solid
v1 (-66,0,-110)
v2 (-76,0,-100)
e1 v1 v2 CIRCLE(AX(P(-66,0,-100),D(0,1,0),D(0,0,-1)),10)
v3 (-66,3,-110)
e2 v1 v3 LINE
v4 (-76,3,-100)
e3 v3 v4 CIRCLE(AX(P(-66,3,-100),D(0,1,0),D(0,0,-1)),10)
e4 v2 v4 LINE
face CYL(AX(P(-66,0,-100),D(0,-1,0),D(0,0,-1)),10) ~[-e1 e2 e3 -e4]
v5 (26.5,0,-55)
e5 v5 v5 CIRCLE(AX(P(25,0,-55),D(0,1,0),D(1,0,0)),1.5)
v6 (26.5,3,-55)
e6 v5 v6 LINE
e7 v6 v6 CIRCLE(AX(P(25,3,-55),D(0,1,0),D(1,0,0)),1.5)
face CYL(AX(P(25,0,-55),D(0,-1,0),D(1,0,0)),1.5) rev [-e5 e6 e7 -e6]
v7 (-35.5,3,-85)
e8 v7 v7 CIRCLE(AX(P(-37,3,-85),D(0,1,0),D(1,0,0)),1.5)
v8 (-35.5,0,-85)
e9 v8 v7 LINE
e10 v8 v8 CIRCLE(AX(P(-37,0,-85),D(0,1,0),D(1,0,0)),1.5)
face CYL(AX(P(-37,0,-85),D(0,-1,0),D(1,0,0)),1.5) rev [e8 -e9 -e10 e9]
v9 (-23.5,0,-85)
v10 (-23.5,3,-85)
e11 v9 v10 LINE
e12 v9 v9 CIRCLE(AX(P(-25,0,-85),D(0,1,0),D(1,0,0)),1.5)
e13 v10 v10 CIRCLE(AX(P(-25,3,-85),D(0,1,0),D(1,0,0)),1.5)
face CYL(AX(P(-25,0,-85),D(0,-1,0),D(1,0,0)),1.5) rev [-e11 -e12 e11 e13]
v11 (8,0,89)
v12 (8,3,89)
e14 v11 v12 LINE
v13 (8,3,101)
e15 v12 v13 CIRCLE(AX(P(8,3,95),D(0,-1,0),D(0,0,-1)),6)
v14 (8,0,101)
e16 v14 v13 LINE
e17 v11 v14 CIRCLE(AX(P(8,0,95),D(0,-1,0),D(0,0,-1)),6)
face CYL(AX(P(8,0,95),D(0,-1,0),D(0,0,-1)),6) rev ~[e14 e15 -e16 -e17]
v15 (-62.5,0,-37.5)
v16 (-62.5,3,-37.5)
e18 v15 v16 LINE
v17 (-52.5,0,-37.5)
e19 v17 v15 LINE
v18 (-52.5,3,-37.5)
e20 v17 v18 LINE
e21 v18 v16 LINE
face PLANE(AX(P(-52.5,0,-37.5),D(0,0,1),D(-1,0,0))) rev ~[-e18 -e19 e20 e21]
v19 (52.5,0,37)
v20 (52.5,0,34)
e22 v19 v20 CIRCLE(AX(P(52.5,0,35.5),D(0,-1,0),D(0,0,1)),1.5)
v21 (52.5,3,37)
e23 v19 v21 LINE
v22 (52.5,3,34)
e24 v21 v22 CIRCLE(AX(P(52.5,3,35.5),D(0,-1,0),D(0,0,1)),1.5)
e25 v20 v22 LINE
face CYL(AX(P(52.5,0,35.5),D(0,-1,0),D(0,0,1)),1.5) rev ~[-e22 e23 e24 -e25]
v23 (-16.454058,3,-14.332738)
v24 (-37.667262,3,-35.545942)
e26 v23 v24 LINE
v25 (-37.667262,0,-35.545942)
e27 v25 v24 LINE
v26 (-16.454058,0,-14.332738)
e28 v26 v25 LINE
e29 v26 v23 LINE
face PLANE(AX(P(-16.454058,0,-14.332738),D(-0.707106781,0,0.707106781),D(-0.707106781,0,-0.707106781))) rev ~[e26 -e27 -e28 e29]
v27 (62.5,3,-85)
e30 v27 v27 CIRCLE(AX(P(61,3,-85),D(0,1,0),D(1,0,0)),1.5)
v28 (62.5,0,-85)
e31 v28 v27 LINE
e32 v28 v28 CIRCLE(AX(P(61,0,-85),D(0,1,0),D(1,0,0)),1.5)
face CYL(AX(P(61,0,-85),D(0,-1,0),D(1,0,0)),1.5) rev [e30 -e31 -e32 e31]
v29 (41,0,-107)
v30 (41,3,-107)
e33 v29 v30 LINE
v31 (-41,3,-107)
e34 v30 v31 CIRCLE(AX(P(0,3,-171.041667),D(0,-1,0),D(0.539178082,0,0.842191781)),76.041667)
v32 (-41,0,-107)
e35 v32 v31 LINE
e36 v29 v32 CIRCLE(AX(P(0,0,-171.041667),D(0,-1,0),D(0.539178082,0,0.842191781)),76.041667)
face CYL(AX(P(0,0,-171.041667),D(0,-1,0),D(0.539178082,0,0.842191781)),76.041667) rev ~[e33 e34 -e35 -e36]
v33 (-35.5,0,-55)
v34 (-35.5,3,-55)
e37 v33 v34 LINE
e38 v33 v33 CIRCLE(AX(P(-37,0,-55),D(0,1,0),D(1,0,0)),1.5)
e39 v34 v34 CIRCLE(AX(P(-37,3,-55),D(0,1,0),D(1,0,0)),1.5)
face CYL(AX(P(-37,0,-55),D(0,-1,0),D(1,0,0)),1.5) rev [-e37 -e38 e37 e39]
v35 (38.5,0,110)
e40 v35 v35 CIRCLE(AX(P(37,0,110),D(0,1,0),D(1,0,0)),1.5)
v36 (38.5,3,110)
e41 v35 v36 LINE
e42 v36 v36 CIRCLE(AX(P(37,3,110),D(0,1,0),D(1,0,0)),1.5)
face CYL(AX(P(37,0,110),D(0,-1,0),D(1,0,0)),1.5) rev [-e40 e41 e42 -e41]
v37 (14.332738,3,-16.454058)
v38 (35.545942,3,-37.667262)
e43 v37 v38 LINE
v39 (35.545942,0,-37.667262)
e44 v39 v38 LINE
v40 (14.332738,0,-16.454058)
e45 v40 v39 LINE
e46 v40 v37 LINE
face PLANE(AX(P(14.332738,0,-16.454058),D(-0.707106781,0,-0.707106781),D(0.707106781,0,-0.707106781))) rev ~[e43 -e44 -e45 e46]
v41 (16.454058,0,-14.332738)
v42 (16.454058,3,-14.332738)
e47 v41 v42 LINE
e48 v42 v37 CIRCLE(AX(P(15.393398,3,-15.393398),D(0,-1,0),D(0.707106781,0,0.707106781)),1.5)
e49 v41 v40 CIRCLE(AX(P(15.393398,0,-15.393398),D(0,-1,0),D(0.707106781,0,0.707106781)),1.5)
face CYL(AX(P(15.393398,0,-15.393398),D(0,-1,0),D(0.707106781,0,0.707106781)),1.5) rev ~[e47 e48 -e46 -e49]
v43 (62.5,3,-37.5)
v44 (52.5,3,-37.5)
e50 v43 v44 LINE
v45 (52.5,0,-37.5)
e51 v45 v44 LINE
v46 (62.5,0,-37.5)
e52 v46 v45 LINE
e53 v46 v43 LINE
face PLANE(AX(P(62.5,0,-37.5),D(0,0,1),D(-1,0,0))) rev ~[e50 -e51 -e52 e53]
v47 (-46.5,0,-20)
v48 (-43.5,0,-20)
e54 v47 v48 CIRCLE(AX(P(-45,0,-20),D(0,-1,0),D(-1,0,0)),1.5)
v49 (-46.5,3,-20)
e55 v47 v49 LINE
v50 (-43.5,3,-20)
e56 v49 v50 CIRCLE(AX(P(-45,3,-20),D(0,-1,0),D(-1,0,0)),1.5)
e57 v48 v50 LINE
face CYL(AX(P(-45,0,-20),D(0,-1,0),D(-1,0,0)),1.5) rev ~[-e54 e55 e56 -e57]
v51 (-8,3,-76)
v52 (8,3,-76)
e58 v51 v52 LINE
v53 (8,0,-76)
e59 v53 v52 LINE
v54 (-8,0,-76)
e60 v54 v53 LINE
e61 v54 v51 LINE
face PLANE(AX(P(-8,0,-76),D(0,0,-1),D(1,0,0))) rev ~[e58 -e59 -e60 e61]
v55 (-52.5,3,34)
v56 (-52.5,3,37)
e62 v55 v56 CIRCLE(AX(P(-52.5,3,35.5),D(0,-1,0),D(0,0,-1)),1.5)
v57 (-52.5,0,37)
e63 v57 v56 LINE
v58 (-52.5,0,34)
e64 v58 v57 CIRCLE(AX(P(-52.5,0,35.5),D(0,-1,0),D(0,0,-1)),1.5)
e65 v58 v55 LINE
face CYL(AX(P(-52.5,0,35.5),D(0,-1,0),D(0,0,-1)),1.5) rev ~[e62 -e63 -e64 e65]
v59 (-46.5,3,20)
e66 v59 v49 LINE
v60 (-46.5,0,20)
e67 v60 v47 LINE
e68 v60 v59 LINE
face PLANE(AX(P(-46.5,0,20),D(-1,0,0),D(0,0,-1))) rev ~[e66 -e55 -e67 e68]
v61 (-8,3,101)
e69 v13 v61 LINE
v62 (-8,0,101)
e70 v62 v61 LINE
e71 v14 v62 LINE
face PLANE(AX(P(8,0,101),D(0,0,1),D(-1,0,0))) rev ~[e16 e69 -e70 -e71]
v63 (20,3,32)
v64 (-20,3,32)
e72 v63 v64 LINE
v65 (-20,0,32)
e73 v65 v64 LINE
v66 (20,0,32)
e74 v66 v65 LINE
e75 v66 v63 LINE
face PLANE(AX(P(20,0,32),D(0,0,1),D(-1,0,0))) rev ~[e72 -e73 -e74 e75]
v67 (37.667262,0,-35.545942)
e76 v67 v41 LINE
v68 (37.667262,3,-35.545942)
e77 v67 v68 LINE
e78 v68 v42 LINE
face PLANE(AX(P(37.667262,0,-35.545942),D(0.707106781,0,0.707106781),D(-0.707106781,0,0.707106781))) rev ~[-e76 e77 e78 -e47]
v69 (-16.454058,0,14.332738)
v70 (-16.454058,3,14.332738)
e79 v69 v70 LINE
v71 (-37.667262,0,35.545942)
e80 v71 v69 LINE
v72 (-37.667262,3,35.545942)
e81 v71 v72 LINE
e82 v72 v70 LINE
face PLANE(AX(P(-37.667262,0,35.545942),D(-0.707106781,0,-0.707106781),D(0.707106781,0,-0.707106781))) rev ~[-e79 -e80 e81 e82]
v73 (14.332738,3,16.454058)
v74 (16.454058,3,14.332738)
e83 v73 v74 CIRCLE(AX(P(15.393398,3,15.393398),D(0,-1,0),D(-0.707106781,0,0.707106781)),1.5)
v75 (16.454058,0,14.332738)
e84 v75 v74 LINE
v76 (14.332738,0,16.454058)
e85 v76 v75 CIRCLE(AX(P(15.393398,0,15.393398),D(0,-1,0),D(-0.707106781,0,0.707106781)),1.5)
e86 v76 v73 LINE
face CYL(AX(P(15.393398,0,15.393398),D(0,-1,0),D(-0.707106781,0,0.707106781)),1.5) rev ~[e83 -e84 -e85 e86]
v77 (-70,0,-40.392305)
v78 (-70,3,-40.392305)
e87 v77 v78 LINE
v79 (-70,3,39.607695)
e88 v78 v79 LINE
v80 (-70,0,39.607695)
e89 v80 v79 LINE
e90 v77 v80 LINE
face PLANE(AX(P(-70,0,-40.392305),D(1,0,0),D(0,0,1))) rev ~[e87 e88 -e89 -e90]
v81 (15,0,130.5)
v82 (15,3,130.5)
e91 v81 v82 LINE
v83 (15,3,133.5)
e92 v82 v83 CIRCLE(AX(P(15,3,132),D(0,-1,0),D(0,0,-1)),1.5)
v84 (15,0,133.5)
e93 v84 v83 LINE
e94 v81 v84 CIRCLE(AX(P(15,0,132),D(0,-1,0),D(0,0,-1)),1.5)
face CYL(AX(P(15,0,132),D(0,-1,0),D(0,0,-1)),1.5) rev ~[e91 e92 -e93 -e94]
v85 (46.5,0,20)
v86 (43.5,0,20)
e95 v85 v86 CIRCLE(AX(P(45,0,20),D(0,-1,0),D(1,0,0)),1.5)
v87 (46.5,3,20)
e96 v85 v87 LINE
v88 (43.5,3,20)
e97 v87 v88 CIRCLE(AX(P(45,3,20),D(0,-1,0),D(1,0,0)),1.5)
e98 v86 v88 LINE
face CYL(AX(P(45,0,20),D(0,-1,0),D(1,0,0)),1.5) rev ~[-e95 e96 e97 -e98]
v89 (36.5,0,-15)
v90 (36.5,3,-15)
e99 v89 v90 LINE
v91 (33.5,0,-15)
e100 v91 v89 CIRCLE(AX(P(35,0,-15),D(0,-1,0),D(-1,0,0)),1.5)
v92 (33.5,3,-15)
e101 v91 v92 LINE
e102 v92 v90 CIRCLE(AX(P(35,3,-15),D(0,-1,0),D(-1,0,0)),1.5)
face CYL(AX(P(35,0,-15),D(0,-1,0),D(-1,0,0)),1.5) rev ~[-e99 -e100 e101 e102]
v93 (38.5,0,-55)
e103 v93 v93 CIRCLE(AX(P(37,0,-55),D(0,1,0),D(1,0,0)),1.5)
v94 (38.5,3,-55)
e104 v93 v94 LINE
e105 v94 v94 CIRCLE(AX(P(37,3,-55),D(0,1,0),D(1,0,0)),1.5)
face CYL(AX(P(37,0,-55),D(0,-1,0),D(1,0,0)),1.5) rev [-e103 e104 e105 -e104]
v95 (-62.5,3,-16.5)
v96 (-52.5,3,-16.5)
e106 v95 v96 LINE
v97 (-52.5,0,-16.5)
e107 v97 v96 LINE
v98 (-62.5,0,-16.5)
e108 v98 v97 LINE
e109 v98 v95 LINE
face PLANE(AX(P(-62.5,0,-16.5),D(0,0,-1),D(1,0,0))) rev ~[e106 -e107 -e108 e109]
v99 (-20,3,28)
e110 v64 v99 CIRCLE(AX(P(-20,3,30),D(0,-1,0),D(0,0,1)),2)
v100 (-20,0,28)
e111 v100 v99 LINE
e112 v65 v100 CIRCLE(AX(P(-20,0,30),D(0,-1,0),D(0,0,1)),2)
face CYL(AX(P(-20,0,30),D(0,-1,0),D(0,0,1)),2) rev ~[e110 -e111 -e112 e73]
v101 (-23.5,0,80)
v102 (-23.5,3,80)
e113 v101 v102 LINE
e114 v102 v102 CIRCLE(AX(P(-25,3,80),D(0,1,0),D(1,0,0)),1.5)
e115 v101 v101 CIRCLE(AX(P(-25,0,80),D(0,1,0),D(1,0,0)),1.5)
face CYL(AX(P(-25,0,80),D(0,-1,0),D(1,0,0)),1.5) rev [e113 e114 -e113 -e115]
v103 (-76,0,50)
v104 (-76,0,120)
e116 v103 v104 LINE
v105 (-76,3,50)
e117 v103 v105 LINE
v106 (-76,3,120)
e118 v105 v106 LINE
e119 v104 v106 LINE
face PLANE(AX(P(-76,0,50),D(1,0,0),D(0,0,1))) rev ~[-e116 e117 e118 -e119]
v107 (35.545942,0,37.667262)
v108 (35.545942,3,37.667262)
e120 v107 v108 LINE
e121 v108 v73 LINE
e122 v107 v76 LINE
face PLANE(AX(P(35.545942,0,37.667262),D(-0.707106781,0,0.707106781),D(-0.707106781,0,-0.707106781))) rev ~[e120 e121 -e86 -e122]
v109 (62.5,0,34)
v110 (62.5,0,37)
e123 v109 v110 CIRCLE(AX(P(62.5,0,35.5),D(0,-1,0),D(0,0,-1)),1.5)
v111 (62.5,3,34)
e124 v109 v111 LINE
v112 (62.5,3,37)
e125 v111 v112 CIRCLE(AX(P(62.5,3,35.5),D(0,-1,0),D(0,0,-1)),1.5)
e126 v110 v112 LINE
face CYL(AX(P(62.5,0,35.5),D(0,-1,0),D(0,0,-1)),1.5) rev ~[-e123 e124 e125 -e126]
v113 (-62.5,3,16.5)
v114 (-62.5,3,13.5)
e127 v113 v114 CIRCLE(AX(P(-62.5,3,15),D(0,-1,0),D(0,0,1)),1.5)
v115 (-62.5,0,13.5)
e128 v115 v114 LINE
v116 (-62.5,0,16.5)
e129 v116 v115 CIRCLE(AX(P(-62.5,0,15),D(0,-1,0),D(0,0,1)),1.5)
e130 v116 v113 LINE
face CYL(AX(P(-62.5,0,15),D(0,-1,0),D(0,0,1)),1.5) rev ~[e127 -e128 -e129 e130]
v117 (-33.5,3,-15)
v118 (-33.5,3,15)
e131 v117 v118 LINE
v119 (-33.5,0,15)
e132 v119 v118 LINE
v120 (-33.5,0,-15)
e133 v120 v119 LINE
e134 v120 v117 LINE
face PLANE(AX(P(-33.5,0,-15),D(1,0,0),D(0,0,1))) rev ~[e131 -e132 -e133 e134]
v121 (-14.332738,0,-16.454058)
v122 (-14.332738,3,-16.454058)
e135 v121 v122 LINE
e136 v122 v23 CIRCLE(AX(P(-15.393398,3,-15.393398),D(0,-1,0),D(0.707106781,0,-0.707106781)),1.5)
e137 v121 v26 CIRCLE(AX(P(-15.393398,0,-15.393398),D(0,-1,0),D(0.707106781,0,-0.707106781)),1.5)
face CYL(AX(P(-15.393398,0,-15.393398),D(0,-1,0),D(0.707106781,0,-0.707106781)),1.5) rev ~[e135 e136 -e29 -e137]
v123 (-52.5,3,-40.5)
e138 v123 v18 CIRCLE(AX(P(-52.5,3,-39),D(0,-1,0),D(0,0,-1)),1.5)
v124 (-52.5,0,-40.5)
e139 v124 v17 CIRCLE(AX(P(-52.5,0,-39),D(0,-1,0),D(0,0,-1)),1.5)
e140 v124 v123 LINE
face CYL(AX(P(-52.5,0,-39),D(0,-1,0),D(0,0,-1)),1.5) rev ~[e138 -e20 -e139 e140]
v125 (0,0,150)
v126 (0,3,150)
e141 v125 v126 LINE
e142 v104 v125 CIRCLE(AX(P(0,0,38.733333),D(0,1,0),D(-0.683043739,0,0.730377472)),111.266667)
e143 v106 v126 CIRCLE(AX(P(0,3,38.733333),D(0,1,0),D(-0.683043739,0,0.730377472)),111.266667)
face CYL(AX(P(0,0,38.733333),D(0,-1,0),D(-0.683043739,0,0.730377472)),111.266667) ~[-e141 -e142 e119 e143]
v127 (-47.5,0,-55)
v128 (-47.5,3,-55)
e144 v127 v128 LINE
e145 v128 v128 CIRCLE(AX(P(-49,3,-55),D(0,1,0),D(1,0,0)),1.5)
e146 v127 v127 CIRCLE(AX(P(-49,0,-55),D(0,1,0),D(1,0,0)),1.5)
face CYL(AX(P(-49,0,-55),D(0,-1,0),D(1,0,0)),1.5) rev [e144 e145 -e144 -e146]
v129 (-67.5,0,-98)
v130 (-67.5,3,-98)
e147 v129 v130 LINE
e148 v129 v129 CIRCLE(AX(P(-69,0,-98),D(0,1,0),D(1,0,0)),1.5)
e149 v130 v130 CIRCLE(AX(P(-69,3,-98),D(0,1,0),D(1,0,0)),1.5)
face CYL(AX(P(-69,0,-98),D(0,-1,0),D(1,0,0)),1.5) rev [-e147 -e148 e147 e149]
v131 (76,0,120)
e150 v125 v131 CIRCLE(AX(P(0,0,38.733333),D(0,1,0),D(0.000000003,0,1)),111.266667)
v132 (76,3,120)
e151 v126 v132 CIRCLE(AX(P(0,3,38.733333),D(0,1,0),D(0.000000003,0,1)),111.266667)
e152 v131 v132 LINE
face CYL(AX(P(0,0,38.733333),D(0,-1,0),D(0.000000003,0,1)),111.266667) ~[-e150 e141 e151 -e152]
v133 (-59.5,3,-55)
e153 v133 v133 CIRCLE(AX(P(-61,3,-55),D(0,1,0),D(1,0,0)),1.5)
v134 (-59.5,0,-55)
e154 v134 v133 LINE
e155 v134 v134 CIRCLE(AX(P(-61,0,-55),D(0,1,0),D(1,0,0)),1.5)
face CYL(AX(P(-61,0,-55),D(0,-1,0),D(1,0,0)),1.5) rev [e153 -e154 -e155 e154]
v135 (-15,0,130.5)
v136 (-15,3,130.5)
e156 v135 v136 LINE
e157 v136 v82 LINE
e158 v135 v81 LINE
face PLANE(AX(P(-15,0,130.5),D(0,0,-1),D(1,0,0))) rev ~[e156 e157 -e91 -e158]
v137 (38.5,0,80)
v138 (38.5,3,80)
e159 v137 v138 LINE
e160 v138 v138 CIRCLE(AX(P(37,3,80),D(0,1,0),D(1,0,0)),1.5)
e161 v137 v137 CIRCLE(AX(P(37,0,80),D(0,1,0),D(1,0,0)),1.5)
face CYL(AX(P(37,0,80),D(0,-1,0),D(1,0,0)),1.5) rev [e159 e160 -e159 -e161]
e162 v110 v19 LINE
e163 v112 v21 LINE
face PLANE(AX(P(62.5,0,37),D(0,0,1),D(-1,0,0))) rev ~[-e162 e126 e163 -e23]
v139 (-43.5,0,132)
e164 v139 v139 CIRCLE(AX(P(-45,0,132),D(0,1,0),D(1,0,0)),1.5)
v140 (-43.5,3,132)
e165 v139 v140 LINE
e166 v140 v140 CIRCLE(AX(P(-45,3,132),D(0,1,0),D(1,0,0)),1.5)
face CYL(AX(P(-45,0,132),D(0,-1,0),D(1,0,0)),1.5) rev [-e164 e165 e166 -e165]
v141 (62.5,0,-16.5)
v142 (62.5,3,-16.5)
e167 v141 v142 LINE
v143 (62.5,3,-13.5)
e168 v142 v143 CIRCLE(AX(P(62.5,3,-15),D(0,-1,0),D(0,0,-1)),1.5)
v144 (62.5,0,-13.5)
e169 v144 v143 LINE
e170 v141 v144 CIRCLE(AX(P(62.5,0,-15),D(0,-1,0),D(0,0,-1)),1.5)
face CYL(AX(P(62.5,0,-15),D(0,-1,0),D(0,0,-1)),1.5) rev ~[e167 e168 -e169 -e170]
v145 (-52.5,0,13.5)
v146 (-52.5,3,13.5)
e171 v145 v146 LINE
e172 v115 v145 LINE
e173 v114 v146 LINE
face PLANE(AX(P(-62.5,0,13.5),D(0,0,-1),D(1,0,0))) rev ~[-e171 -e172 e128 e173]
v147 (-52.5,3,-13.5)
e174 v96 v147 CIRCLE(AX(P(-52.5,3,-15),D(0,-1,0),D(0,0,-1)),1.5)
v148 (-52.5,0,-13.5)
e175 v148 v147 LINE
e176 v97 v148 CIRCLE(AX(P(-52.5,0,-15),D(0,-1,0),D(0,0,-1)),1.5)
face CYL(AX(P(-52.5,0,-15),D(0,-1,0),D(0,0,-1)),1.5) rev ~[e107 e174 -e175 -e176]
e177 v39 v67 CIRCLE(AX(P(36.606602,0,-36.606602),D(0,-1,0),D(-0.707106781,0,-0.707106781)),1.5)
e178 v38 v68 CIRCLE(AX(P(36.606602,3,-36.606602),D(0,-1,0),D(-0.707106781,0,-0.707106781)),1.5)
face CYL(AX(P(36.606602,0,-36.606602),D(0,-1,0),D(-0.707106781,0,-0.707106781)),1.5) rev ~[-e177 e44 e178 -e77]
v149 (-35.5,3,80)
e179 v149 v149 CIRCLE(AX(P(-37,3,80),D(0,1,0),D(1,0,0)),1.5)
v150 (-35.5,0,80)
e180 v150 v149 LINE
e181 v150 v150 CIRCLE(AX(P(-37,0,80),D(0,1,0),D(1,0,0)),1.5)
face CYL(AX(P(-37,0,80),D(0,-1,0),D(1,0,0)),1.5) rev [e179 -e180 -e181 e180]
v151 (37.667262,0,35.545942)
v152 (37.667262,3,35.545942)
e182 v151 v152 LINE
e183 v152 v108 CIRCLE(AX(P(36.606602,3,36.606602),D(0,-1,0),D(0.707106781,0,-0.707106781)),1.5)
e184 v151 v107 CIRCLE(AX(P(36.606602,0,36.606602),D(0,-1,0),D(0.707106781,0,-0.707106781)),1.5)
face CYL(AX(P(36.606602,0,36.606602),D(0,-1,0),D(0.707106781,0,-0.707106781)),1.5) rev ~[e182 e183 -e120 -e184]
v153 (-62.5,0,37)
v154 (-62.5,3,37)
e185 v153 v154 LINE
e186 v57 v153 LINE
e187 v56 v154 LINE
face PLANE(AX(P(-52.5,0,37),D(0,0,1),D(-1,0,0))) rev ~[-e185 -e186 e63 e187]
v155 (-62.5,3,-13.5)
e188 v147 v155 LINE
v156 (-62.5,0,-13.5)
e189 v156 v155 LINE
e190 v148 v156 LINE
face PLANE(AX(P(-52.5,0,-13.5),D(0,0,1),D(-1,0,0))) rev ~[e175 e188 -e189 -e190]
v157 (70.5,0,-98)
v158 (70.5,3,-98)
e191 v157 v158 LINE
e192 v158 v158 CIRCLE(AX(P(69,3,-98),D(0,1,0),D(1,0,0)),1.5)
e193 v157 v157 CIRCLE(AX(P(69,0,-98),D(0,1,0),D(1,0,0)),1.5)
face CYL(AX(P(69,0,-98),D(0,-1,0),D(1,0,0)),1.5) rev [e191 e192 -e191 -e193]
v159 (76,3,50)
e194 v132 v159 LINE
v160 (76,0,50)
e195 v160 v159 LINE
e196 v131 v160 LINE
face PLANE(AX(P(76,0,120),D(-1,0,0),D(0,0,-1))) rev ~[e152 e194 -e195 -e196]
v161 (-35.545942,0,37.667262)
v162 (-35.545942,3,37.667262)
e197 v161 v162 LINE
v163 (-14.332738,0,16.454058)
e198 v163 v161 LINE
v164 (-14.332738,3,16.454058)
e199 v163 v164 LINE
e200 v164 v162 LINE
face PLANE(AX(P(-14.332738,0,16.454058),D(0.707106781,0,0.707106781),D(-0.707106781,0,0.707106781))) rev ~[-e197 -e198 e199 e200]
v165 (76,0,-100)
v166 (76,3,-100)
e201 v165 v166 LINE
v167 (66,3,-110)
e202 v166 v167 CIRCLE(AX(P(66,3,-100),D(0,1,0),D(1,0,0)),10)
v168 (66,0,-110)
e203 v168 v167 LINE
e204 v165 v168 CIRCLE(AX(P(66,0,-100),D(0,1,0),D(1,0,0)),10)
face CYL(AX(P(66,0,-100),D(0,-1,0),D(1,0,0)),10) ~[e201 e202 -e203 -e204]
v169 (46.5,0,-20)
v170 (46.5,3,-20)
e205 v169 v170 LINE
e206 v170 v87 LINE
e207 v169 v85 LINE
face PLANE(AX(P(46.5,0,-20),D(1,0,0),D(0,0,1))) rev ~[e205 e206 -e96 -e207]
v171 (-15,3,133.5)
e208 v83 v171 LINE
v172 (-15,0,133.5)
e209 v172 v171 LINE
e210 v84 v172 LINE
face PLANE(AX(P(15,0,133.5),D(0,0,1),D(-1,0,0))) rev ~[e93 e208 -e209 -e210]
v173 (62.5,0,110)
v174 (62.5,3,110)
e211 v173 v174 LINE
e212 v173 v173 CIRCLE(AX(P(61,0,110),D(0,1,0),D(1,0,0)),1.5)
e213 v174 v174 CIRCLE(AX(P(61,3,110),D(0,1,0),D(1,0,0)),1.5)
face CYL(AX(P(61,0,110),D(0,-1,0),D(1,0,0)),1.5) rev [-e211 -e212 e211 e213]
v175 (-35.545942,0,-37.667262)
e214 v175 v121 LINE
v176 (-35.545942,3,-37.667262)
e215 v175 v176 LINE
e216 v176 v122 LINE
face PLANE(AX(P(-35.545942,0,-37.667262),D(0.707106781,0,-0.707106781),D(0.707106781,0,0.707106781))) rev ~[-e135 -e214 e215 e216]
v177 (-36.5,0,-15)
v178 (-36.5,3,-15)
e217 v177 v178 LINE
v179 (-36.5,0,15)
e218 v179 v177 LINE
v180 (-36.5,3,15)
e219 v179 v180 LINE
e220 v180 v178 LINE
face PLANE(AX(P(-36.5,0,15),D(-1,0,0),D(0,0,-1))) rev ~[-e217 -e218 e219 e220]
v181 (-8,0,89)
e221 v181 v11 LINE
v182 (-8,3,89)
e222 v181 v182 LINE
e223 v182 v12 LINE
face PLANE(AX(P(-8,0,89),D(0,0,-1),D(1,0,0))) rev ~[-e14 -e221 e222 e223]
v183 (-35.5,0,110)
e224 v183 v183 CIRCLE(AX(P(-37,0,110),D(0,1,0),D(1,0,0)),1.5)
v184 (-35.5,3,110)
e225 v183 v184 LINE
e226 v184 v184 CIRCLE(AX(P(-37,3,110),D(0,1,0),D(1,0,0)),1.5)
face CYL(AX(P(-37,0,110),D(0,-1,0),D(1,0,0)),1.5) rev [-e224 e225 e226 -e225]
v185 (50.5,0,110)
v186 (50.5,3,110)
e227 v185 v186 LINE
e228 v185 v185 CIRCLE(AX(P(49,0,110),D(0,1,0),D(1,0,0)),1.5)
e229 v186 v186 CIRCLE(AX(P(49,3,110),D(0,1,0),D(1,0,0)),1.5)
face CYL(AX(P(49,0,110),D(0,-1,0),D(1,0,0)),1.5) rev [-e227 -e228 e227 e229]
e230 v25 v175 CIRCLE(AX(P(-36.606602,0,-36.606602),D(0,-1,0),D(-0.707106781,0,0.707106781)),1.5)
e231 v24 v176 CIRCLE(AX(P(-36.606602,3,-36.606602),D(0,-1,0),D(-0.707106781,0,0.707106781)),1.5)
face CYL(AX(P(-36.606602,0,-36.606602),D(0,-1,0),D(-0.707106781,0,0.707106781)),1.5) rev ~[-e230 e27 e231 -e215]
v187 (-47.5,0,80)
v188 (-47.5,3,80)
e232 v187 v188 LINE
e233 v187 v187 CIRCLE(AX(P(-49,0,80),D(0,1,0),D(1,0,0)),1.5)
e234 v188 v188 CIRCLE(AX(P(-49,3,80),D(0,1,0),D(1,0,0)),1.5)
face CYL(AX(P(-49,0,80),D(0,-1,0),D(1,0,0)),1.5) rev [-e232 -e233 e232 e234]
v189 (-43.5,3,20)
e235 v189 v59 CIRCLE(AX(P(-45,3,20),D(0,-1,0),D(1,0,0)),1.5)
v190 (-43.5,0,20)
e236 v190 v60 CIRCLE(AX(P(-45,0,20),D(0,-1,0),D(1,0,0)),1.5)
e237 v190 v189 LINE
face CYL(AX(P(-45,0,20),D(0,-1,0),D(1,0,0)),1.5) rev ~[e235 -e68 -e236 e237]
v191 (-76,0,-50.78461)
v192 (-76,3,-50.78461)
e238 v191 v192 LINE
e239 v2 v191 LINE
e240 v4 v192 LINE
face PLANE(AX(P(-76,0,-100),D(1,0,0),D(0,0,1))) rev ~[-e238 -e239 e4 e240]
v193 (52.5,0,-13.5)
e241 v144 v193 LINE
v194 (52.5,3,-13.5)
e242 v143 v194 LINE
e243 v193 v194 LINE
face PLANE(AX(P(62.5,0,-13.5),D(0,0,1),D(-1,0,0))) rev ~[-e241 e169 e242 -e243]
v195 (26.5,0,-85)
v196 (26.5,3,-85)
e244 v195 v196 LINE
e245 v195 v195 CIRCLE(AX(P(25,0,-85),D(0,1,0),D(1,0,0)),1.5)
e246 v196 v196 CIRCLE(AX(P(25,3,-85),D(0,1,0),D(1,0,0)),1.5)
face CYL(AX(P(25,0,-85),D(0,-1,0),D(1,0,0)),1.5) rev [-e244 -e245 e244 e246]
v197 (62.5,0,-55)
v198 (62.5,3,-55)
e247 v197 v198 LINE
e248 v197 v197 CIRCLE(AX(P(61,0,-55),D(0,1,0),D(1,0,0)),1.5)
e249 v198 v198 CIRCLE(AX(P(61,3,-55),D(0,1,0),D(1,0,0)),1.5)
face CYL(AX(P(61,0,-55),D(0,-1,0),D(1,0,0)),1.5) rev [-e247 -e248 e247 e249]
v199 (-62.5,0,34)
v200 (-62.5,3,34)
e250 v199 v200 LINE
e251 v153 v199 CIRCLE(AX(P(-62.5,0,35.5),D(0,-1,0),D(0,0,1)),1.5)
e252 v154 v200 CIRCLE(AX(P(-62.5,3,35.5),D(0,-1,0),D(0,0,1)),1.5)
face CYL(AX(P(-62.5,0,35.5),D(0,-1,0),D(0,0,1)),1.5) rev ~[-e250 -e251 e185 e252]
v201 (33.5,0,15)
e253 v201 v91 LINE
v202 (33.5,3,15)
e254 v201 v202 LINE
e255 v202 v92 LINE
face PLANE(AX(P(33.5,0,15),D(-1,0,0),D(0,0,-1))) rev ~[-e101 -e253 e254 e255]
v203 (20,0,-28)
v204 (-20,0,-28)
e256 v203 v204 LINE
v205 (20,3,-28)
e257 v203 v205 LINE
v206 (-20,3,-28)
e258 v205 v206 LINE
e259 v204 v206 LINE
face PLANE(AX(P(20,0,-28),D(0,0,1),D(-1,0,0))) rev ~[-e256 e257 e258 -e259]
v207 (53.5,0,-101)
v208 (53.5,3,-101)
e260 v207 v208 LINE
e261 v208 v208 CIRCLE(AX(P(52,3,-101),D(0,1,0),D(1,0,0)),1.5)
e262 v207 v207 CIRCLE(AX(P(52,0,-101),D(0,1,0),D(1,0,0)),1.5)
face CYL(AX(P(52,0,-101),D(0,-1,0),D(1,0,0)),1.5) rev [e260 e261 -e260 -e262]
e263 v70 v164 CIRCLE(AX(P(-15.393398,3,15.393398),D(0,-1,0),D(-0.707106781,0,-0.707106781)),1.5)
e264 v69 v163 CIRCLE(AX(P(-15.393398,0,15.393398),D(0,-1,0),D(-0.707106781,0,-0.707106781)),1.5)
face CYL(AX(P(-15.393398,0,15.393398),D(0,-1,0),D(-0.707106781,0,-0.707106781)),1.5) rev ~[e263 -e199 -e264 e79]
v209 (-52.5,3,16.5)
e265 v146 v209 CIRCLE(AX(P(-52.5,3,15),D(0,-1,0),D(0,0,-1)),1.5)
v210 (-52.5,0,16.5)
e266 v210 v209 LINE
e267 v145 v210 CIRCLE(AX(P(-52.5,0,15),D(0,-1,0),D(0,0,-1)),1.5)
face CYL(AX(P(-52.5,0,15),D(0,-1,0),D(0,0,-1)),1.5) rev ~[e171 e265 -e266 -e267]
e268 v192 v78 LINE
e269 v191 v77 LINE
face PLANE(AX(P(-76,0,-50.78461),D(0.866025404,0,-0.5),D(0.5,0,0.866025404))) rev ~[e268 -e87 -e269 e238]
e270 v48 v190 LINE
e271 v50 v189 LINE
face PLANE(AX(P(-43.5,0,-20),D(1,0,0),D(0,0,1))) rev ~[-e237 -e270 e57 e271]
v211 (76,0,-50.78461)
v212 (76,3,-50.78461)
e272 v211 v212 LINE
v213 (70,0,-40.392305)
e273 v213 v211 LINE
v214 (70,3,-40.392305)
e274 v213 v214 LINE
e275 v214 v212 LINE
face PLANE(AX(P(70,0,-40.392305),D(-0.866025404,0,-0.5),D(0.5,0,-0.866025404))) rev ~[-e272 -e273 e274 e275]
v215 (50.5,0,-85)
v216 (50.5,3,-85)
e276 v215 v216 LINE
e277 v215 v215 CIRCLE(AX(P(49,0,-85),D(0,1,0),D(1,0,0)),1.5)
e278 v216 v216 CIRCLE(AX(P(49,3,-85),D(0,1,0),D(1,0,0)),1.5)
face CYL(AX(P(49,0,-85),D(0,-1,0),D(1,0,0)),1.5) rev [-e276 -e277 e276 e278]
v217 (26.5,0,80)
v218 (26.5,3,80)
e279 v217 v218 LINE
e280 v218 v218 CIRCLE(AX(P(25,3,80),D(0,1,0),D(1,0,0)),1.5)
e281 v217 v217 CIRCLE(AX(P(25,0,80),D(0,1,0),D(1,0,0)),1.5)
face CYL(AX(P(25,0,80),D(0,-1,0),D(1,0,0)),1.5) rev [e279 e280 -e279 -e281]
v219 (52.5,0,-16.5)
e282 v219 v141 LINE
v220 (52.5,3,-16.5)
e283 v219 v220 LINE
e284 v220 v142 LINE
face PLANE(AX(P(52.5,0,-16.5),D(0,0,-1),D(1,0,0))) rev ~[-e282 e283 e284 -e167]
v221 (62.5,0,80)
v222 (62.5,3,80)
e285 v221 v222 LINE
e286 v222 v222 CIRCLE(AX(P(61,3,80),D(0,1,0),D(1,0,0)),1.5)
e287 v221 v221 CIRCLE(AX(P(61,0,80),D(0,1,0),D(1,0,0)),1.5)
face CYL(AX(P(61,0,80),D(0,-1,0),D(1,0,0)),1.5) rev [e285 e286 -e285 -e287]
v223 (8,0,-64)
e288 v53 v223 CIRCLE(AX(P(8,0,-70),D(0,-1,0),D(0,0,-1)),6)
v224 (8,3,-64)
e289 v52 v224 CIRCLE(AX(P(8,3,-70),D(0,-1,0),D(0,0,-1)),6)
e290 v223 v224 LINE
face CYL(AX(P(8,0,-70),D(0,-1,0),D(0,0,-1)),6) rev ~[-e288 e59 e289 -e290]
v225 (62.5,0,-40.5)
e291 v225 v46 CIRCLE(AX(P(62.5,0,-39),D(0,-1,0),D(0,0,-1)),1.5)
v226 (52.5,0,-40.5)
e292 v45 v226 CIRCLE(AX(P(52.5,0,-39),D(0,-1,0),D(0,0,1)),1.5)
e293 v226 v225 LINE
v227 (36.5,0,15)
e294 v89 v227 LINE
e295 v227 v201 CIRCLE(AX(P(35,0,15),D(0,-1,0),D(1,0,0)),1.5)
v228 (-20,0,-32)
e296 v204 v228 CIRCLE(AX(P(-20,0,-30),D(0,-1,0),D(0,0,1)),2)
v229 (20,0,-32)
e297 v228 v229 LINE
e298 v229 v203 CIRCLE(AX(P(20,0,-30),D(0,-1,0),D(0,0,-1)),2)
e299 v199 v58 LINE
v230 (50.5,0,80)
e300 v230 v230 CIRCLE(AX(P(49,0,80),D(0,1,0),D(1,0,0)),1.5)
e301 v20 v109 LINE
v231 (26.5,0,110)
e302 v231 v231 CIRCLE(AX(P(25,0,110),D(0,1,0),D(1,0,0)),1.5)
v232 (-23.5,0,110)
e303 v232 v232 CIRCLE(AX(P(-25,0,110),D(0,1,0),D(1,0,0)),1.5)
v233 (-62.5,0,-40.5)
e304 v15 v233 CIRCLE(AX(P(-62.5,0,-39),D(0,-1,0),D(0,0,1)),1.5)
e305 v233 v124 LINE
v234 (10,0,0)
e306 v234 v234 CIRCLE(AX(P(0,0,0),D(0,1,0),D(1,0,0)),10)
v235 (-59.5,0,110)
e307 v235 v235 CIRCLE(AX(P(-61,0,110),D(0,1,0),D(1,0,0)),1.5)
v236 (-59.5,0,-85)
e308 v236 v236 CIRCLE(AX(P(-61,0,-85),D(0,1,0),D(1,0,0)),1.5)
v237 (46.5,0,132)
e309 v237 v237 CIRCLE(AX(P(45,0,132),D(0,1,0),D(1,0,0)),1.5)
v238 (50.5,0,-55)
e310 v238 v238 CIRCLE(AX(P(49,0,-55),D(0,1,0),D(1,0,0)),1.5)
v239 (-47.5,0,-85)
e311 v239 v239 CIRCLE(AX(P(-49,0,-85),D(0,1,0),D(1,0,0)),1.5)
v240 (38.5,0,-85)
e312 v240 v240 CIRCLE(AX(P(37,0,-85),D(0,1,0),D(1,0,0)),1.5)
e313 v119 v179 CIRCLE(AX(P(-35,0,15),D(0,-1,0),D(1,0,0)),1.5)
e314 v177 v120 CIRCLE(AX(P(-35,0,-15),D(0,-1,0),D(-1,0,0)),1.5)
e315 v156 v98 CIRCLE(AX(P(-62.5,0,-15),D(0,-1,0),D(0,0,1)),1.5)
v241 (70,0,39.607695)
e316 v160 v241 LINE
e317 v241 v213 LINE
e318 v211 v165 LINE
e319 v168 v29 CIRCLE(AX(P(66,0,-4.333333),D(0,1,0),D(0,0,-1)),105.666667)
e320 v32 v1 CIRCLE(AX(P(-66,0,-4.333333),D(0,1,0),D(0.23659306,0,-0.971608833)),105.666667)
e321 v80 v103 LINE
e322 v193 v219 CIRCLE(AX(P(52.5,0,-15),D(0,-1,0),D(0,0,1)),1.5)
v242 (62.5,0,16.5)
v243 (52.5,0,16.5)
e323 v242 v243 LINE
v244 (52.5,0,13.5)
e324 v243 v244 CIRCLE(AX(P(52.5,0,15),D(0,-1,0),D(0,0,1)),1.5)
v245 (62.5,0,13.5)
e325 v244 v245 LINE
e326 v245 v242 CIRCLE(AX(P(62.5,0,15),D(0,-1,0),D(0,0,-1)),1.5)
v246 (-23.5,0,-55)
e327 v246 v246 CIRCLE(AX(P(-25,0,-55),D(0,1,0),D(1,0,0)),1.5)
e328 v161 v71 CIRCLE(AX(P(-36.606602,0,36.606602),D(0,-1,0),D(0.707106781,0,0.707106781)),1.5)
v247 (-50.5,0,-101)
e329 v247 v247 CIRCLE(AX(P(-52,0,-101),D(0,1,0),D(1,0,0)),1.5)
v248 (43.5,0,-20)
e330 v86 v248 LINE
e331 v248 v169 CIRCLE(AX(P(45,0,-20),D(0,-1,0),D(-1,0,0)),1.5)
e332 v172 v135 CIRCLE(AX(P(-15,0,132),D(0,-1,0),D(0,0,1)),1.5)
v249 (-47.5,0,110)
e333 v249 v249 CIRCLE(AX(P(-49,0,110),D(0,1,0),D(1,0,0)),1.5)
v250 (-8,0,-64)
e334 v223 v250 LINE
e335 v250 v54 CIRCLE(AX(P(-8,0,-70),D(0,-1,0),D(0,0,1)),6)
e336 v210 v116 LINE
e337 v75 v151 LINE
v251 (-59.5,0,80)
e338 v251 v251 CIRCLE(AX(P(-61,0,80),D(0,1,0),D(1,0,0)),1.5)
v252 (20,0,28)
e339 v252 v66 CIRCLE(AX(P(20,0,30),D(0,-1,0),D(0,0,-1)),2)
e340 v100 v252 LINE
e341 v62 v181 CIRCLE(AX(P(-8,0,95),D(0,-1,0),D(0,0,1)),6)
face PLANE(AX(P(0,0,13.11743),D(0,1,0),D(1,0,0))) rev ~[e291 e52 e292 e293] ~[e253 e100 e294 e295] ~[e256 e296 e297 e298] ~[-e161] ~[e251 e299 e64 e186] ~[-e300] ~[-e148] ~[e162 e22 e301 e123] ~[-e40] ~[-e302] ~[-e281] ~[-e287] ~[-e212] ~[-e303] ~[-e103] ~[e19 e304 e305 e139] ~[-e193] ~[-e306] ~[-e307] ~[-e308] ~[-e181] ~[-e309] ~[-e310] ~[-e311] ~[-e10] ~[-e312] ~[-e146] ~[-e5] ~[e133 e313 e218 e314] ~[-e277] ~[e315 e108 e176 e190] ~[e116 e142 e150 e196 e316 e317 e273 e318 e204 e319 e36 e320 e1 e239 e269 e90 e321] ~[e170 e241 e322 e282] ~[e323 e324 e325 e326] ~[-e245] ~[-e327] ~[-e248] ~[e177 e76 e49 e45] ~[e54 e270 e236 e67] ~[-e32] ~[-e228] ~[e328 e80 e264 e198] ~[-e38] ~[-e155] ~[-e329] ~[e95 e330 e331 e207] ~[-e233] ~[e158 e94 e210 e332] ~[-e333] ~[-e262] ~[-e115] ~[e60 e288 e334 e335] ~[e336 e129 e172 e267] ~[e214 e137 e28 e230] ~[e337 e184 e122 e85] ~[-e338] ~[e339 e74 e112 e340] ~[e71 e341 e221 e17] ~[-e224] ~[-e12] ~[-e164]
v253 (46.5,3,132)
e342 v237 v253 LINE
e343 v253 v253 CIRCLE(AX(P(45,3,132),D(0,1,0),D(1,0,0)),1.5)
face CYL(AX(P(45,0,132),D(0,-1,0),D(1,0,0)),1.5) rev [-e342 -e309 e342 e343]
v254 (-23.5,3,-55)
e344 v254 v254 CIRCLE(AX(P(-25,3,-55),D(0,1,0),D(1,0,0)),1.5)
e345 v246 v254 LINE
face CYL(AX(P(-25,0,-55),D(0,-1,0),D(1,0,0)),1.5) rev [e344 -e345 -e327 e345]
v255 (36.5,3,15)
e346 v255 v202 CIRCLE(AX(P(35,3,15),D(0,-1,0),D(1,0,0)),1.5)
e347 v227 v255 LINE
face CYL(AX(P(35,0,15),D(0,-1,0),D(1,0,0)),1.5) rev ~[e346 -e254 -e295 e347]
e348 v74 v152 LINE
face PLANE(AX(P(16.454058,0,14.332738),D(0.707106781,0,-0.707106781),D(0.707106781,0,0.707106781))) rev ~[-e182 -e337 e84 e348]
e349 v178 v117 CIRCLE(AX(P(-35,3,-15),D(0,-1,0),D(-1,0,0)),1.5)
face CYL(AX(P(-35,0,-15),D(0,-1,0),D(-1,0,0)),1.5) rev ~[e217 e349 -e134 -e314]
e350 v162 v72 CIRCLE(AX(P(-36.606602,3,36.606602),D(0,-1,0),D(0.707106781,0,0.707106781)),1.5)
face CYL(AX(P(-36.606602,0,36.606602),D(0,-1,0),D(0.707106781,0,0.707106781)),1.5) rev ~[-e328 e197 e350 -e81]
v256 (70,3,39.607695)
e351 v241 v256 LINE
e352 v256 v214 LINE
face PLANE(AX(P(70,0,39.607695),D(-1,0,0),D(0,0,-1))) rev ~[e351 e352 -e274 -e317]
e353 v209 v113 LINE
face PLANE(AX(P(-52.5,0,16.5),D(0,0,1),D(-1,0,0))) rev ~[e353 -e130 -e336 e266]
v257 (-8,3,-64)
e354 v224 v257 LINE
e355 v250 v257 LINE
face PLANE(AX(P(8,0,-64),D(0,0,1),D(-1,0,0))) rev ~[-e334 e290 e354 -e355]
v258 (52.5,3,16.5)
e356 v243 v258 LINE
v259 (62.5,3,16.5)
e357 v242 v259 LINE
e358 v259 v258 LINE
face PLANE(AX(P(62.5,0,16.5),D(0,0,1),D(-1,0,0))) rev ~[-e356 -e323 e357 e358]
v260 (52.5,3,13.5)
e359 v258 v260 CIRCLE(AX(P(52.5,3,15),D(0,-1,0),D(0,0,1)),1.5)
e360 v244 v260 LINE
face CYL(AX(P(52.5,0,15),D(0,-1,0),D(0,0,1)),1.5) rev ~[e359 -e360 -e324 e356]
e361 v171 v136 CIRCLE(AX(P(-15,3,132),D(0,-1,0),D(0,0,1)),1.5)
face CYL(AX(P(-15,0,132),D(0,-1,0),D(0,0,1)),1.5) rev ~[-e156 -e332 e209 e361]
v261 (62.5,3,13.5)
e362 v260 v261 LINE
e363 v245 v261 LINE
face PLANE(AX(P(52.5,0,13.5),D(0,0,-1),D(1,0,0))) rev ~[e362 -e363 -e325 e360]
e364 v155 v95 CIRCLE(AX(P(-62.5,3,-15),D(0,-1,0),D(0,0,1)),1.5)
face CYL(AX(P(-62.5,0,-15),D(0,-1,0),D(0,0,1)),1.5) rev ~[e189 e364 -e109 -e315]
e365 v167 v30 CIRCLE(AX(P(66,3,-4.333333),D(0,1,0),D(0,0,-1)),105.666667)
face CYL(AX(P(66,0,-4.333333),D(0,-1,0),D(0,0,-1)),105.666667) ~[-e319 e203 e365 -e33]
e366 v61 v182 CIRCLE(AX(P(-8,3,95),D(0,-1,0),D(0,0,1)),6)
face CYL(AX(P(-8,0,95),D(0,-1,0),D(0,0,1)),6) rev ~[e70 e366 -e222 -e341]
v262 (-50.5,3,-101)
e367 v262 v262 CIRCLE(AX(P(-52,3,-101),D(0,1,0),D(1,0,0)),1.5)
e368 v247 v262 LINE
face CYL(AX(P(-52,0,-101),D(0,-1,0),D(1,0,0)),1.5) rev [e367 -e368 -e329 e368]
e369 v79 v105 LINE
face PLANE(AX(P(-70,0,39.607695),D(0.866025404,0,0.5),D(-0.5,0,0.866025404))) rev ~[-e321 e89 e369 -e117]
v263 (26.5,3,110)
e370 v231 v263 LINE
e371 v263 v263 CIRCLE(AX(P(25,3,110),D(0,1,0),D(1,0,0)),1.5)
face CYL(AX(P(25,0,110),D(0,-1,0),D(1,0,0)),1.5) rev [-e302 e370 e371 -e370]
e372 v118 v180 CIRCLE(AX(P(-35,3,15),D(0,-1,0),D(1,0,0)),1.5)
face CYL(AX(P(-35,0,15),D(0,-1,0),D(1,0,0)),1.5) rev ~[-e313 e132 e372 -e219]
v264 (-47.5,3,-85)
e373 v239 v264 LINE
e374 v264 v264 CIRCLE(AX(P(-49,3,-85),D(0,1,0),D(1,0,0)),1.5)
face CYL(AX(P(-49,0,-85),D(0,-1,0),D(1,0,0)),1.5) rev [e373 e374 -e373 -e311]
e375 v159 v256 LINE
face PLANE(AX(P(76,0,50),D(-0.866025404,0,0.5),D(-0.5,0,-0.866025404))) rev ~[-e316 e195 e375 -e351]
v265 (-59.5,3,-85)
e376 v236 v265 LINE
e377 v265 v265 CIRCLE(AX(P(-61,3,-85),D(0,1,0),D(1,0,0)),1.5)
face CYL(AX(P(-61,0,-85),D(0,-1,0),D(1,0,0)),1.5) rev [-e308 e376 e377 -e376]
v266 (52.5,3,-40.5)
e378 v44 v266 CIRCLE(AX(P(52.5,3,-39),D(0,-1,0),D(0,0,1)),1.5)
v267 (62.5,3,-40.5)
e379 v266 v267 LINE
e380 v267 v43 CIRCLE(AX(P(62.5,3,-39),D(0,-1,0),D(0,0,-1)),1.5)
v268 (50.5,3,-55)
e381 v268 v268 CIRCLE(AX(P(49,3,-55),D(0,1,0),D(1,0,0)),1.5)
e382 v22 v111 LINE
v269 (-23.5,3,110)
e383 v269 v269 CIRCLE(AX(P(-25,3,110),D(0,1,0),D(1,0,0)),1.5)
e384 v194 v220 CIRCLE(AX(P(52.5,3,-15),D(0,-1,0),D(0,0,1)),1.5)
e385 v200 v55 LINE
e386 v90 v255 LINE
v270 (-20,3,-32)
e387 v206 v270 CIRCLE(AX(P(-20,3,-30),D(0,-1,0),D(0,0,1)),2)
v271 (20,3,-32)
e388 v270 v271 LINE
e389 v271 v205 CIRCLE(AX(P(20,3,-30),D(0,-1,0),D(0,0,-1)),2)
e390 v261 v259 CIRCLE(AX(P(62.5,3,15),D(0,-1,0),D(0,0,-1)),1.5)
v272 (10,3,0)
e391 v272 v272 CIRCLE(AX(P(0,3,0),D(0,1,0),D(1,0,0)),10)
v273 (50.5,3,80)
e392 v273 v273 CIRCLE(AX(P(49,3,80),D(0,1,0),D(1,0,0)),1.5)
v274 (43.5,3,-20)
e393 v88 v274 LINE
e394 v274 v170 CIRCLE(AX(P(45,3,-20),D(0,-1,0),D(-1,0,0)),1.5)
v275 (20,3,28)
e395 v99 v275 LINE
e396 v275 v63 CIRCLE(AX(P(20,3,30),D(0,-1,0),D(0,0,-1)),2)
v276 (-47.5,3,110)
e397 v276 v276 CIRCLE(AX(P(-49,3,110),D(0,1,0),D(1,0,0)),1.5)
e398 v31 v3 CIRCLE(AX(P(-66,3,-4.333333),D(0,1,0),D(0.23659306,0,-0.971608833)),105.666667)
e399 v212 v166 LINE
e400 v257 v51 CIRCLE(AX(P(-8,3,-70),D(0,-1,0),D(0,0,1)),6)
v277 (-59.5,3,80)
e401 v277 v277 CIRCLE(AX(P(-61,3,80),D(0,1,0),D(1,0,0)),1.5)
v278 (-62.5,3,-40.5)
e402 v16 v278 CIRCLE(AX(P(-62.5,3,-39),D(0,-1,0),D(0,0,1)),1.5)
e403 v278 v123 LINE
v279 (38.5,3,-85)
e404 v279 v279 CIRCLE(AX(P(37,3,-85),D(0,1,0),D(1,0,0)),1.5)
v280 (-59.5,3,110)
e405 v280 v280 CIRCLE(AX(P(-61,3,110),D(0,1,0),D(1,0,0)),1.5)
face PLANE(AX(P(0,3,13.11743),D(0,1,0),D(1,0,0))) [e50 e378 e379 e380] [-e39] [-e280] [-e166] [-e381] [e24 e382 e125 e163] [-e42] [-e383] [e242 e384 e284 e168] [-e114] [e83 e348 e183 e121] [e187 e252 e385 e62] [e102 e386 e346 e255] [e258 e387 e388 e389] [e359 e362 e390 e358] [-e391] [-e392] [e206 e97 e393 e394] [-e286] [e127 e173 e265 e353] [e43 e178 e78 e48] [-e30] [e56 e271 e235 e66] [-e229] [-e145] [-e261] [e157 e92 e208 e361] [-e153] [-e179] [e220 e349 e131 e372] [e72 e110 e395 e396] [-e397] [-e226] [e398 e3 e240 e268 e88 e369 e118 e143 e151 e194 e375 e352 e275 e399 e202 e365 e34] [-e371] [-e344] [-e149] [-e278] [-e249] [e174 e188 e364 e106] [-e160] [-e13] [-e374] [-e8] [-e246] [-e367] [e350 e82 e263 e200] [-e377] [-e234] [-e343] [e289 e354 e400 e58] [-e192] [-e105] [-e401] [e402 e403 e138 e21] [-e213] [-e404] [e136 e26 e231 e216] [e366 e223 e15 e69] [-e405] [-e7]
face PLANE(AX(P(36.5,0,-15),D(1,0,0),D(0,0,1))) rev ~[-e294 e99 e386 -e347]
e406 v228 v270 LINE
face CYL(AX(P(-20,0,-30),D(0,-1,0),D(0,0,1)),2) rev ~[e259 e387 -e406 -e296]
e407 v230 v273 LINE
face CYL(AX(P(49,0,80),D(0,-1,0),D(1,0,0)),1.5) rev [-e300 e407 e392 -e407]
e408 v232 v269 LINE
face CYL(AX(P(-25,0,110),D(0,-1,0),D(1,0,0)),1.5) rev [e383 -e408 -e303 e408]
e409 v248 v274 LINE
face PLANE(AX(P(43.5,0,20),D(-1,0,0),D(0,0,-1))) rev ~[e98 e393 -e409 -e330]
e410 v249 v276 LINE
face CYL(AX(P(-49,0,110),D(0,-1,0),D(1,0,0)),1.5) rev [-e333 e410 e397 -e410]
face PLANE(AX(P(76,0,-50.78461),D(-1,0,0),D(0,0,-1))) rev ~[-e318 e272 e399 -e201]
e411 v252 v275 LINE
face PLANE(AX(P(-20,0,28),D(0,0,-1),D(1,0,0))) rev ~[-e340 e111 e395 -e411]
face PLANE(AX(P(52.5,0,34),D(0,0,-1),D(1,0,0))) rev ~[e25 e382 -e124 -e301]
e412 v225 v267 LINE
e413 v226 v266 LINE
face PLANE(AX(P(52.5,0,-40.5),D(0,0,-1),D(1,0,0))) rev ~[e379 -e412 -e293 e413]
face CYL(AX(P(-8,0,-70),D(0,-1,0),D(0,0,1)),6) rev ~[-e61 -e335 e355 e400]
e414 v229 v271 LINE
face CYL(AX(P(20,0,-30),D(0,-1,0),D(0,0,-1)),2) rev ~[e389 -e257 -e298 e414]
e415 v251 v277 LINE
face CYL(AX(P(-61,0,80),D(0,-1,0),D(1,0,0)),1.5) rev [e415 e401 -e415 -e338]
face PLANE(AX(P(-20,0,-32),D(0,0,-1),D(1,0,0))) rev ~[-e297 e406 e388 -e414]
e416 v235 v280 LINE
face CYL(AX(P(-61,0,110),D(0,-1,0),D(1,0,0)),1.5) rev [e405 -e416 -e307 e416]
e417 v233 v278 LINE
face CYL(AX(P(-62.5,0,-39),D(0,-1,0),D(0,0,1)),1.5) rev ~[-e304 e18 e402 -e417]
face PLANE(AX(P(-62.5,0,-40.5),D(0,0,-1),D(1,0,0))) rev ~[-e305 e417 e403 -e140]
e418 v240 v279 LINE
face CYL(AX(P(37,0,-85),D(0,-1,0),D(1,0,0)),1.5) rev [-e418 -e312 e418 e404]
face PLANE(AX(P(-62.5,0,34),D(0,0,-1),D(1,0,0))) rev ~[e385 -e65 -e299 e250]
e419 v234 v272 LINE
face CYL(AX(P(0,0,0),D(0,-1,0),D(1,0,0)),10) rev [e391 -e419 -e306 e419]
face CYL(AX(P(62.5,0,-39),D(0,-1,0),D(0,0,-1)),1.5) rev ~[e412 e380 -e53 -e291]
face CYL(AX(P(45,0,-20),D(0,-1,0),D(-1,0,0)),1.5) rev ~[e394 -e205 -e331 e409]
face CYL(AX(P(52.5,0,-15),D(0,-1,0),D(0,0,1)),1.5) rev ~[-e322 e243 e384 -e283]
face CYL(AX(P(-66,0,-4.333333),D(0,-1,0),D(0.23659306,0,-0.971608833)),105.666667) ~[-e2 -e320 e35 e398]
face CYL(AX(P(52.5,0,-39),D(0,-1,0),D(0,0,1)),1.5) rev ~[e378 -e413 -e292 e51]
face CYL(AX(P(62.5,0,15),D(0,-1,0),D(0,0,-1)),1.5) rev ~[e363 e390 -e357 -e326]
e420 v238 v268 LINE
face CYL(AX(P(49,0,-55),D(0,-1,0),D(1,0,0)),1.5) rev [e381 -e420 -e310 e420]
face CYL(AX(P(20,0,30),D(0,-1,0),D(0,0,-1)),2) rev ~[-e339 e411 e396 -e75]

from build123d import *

# Parameters (mm, degrees)
SKETCH2_R           = 1.5
SKETCH2_R_2         = 10
BOSS_EXTRUDE1_DEPTH = 3


with BuildPart() as part:
    # Sketch2 → Boss-Extrude1 (new body)
    with BuildSketch(Plane(origin=(0, 0, 0), x_dir=(1, 0, 0), z_dir=(0, 1, 0))):
        with BuildLine():
            ThreePointArc((-41, 107), (-53.410321688, 109.247319267), (-66, 110))
            ThreePointArc((-66, 110), (-73.071067812, 107.071067812), (-76, 100))
            Line((-76, 100), (-76, 50.784609691))
            Line((-76, 50.784609691), (-70, 40.392304845))
            Line((-70, 40.392304845), (-70, -39.607695155))
            Line((-70, -39.607695155), (-76, -50))
            Line((-76, -50), (-76, -120))
            ThreePointArc((-76, -120), (-40.853396256, -142.228604363), (3.77e-07, -150))
            ThreePointArc((3.77e-07, -150), (40.853396607, -142.228604224), (76, -120))
            Line((76, -120), (76, -50))
            Line((76, -50), (70, -39.607695155))
            Line((70, -39.607695155), (70, 40.392304845))
            Line((70, 40.392304845), (76, 50.784609691))
            Line((76, 50.784609691), (76, 100))
            ThreePointArc((76, 100), (73.071067812, 107.071067812), (66, 110))
            ThreePointArc((66, 110), (53.410321688, 109.247319267), (41, 107))
            ThreePointArc((41, 107), (0, 95), (-41, 107))
        make_face()
        with Locations((-45, -132)):
            Circle(SKETCH2_R, mode=Mode.SUBTRACT)
        with Locations((-61, -110)):
            Circle(SKETCH2_R, mode=Mode.SUBTRACT)
        with Locations((-49, -110)):
            Circle(SKETCH2_R, mode=Mode.SUBTRACT)
        with Locations((-37, -110)):
            Circle(SKETCH2_R, mode=Mode.SUBTRACT)
        with Locations((-25, -110)):
            Circle(SKETCH2_R, mode=Mode.SUBTRACT)
        with BuildLine():
            ThreePointArc((-8, -101), (-14, -95), (-8, -89))
            Line((-8, -89), (8, -89))
            ThreePointArc((8, -89), (14, -95), (8, -101))
            Line((8, -101), (-8, -101))
        make_face(mode=Mode.SUBTRACT)
        with Locations((-61, -80)):
            Circle(SKETCH2_R, mode=Mode.SUBTRACT)
        with Locations((-49, -80)):
            Circle(SKETCH2_R, mode=Mode.SUBTRACT)
        with BuildLine():
            ThreePointArc((-62.5, -37), (-64, -35.5), (-62.5, -34))
            Line((-62.5, -34), (-52.5, -34))
            ThreePointArc((-52.5, -34), (-51, -35.5), (-52.5, -37))
            Line((-52.5, -37), (-62.5, -37))
        make_face(mode=Mode.SUBTRACT)
        with Locations((-37, -80)):
            Circle(SKETCH2_R, mode=Mode.SUBTRACT)
        with Locations((-25, -80)):
            Circle(SKETCH2_R, mode=Mode.SUBTRACT)
        with BuildLine():
            Line((-14.33273811, -16.454058454), (-35.545941546, -37.66726189))
            ThreePointArc((-35.545941546, -37.66726189), (-37.66726189, -37.66726189), (-37.66726189, -35.545941546))
            Line((-37.66726189, -35.545941546), (-16.454058454, -14.33273811))
            ThreePointArc((-16.454058454, -14.33273811), (-14.33273811, -14.33273811), (-14.33273811, -16.454058454))
        make_face(mode=Mode.SUBTRACT)
        with BuildLine():
            Line((20, -32), (-20, -32))
            ThreePointArc((-20, -32), (-22, -30), (-20, -28))
            Line((-20, -28), (20, -28))
            ThreePointArc((20, -28), (22, -30), (20, -32))
        make_face(mode=Mode.SUBTRACT)
        with BuildLine():
            ThreePointArc((-15, -133.5), (-16.5, -132), (-15, -130.5))
            Line((-15, -130.5), (15, -130.5))
            ThreePointArc((15, -130.5), (16.5, -132), (15, -133.5))
            Line((15, -133.5), (-15, -133.5))
        make_face(mode=Mode.SUBTRACT)
        with Locations((25, -110)):
            Circle(SKETCH2_R, mode=Mode.SUBTRACT)
        with Locations((37, -110)):
            Circle(SKETCH2_R, mode=Mode.SUBTRACT)
        with Locations((45, -132)):
            Circle(SKETCH2_R, mode=Mode.SUBTRACT)
        with Locations((49, -110)):
            Circle(SKETCH2_R, mode=Mode.SUBTRACT)
        with Locations((61, -110)):
            Circle(SKETCH2_R, mode=Mode.SUBTRACT)
        with Locations((25, -80)):
            Circle(SKETCH2_R, mode=Mode.SUBTRACT)
        with Locations((37, -80)):
            Circle(SKETCH2_R, mode=Mode.SUBTRACT)
        with BuildLine():
            ThreePointArc((37.66726189, -35.545941546), (37.66726189, -37.66726189), (35.545941546, -37.66726189))
            Line((35.545941546, -37.66726189), (14.33273811, -16.454058454))
            ThreePointArc((14.33273811, -16.454058454), (14.33273811, -14.33273811), (16.454058454, -14.33273811))
            Line((16.454058454, -14.33273811), (37.66726189, -35.545941546))
        make_face(mode=Mode.SUBTRACT)
        with Locations((49, -80)):
            Circle(SKETCH2_R, mode=Mode.SUBTRACT)
        with Locations((61, -80)):
            Circle(SKETCH2_R, mode=Mode.SUBTRACT)
        with BuildLine():
            Line((52.5, -34), (62.5, -34))
            ThreePointArc((62.5, -34), (64, -35.5), (62.5, -37))
            Line((62.5, -37), (52.5, -37))
            ThreePointArc((52.5, -37), (51, -35.5), (52.5, -34))
        make_face(mode=Mode.SUBTRACT)
        with BuildLine():
            Line((-52.5, -16.5), (-62.5, -16.5))
            ThreePointArc((-62.5, -16.5), (-64, -15), (-62.5, -13.5))
            Line((-62.5, -13.5), (-52.5, -13.5))
            ThreePointArc((-52.5, -13.5), (-51, -15), (-52.5, -16.5))
        make_face(mode=Mode.SUBTRACT)
        with BuildLine():
            ThreePointArc((-43.5, -20), (-45, -21.5), (-46.5, -20))
            Line((-46.5, -20), (-46.5, 20))
            ThreePointArc((-46.5, 20), (-45, 21.5), (-43.5, 20))
            Line((-43.5, 20), (-43.5, -20))
        make_face(mode=Mode.SUBTRACT)
        with BuildLine():
            ThreePointArc((-62.5, 13.5), (-64, 15), (-62.5, 16.5))
            Line((-62.5, 16.5), (-52.5, 16.5))
            ThreePointArc((-52.5, 16.5), (-51, 15), (-52.5, 13.5))
            Line((-52.5, 13.5), (-62.5, 13.5))
        make_face(mode=Mode.SUBTRACT)
        with BuildLine():
            ThreePointArc((-62.5, 37.5), (-64, 39), (-62.5, 40.5))
            Line((-62.5, 40.5), (-52.5, 40.5))
            ThreePointArc((-52.5, 40.5), (-51, 39), (-52.5, 37.5))
            Line((-52.5, 37.5), (-62.5, 37.5))
        make_face(mode=Mode.SUBTRACT)
        with BuildLine():
            ThreePointArc((-33.5, -15), (-35, -16.5), (-36.5, -15))
            Line((-36.5, -15), (-36.5, 15))
            ThreePointArc((-36.5, 15), (-35, 16.5), (-33.5, 15))
            Line((-33.5, 15), (-33.5, -15))
        make_face(mode=Mode.SUBTRACT)
        with BuildLine():
            ThreePointArc((-37.66726189, 35.545941546), (-37.66726189, 37.66726189), (-35.545941546, 37.66726189))
            Line((-35.545941546, 37.66726189), (-14.33273811, 16.454058454))
            ThreePointArc((-14.33273811, 16.454058454), (-14.33273811, 14.33273811), (-16.454058454, 14.33273811))
            Line((-16.454058454, 14.33273811), (-37.66726189, 35.545941546))
        make_face(mode=Mode.SUBTRACT)
        with BuildLine():
            ThreePointArc((-20, 28), (-22, 30), (-20, 32))
            Line((-20, 32), (20, 32))
            ThreePointArc((20, 32), (22, 30), (20, 28))
            Line((20, 28), (-20, 28))
        make_face(mode=Mode.SUBTRACT)
        with Locations((-61, 55)):
            Circle(SKETCH2_R, mode=Mode.SUBTRACT)
        with Locations((-49, 55)):
            Circle(SKETCH2_R, mode=Mode.SUBTRACT)
        with Locations((-61, 85)):
            Circle(SKETCH2_R, mode=Mode.SUBTRACT)
        with Locations((-69, 98)):
            Circle(SKETCH2_R, mode=Mode.SUBTRACT)
        with Locations((-49, 85)):
            Circle(SKETCH2_R, mode=Mode.SUBTRACT)
        with Locations((-52, 101)):
            Circle(SKETCH2_R, mode=Mode.SUBTRACT)
        with Locations((-37, 55)):
            Circle(SKETCH2_R, mode=Mode.SUBTRACT)
        with Locations((-25, 55)):
            Circle(SKETCH2_R, mode=Mode.SUBTRACT)
        with BuildLine():
            ThreePointArc((-8, 64), (-14, 70), (-8, 76))
            Line((-8, 76), (8, 76))
            ThreePointArc((8, 76), (14, 70), (8, 64))
            Line((8, 64), (-8, 64))
        make_face(mode=Mode.SUBTRACT)
        with Locations((-37, 85)):
            Circle(SKETCH2_R, mode=Mode.SUBTRACT)
        with Locations((-25, 85)):
            Circle(SKETCH2_R, mode=Mode.SUBTRACT)
        Circle(SKETCH2_R_2, mode=Mode.SUBTRACT)
        with BuildLine():
            Line((36.5, 15), (36.5, -15))
            ThreePointArc((36.5, -15), (35, -16.5), (33.5, -15))
            Line((33.5, -15), (33.5, 15))
            ThreePointArc((33.5, 15), (35, 16.5), (36.5, 15))
        make_face(mode=Mode.SUBTRACT)
        with BuildLine():
            Line((14.33273811, 16.454058454), (35.545941546, 37.66726189))
            ThreePointArc((35.545941546, 37.66726189), (37.66726189, 37.66726189), (37.66726189, 35.545941546))
            Line((37.66726189, 35.545941546), (16.454058454, 14.33273811))
            ThreePointArc((16.454058454, 14.33273811), (14.33273811, 14.33273811), (14.33273811, 16.454058454))
        make_face(mode=Mode.SUBTRACT)
        with BuildLine():
            Line((46.5, 20), (46.5, -20))
            ThreePointArc((46.5, -20), (45, -21.5), (43.5, -20))
            Line((43.5, -20), (43.5, 20))
            ThreePointArc((43.5, 20), (45, 21.5), (46.5, 20))
        make_face(mode=Mode.SUBTRACT)
        with BuildLine():
            ThreePointArc((62.5, -13.5), (64, -15), (62.5, -16.5))
            Line((62.5, -16.5), (52.5, -16.5))
            ThreePointArc((52.5, -16.5), (51, -15), (52.5, -13.5))
            Line((52.5, -13.5), (62.5, -13.5))
        make_face(mode=Mode.SUBTRACT)
        with BuildLine():
            Line((52.5, 16.5), (62.5, 16.5))
            ThreePointArc((62.5, 16.5), (64, 15), (62.5, 13.5))
            Line((62.5, 13.5), (52.5, 13.5))
            ThreePointArc((52.5, 13.5), (51, 15), (52.5, 16.5))
        make_face(mode=Mode.SUBTRACT)
        with BuildLine():
            Line((52.5, 40.5), (62.5, 40.5))
            ThreePointArc((62.5, 40.5), (64, 39), (62.5, 37.5))
            Line((62.5, 37.5), (52.5, 37.5))
            ThreePointArc((52.5, 37.5), (51, 39), (52.5, 40.5))
        make_face(mode=Mode.SUBTRACT)
        with Locations((25, 55)):
            Circle(SKETCH2_R, mode=Mode.SUBTRACT)
        with Locations((37, 55)):
            Circle(SKETCH2_R, mode=Mode.SUBTRACT)
        with Locations((25, 85)):
            Circle(SKETCH2_R, mode=Mode.SUBTRACT)
        with Locations((37, 85)):
            Circle(SKETCH2_R, mode=Mode.SUBTRACT)
        with Locations((49, 55)):
            Circle(SKETCH2_R, mode=Mode.SUBTRACT)
        with Locations((61, 55)):
            Circle(SKETCH2_R, mode=Mode.SUBTRACT)
        with Locations((49, 85)):
            Circle(SKETCH2_R, mode=Mode.SUBTRACT)
        with Locations((52, 101)):
            Circle(SKETCH2_R, mode=Mode.SUBTRACT)
        with Locations((61, 85)):
            Circle(SKETCH2_R, mode=Mode.SUBTRACT)
        with Locations((69, 98)):
            Circle(SKETCH2_R, mode=Mode.SUBTRACT)
    extrude(amount=BOSS_EXTRUDE1_DEPTH)


solid = part.part
